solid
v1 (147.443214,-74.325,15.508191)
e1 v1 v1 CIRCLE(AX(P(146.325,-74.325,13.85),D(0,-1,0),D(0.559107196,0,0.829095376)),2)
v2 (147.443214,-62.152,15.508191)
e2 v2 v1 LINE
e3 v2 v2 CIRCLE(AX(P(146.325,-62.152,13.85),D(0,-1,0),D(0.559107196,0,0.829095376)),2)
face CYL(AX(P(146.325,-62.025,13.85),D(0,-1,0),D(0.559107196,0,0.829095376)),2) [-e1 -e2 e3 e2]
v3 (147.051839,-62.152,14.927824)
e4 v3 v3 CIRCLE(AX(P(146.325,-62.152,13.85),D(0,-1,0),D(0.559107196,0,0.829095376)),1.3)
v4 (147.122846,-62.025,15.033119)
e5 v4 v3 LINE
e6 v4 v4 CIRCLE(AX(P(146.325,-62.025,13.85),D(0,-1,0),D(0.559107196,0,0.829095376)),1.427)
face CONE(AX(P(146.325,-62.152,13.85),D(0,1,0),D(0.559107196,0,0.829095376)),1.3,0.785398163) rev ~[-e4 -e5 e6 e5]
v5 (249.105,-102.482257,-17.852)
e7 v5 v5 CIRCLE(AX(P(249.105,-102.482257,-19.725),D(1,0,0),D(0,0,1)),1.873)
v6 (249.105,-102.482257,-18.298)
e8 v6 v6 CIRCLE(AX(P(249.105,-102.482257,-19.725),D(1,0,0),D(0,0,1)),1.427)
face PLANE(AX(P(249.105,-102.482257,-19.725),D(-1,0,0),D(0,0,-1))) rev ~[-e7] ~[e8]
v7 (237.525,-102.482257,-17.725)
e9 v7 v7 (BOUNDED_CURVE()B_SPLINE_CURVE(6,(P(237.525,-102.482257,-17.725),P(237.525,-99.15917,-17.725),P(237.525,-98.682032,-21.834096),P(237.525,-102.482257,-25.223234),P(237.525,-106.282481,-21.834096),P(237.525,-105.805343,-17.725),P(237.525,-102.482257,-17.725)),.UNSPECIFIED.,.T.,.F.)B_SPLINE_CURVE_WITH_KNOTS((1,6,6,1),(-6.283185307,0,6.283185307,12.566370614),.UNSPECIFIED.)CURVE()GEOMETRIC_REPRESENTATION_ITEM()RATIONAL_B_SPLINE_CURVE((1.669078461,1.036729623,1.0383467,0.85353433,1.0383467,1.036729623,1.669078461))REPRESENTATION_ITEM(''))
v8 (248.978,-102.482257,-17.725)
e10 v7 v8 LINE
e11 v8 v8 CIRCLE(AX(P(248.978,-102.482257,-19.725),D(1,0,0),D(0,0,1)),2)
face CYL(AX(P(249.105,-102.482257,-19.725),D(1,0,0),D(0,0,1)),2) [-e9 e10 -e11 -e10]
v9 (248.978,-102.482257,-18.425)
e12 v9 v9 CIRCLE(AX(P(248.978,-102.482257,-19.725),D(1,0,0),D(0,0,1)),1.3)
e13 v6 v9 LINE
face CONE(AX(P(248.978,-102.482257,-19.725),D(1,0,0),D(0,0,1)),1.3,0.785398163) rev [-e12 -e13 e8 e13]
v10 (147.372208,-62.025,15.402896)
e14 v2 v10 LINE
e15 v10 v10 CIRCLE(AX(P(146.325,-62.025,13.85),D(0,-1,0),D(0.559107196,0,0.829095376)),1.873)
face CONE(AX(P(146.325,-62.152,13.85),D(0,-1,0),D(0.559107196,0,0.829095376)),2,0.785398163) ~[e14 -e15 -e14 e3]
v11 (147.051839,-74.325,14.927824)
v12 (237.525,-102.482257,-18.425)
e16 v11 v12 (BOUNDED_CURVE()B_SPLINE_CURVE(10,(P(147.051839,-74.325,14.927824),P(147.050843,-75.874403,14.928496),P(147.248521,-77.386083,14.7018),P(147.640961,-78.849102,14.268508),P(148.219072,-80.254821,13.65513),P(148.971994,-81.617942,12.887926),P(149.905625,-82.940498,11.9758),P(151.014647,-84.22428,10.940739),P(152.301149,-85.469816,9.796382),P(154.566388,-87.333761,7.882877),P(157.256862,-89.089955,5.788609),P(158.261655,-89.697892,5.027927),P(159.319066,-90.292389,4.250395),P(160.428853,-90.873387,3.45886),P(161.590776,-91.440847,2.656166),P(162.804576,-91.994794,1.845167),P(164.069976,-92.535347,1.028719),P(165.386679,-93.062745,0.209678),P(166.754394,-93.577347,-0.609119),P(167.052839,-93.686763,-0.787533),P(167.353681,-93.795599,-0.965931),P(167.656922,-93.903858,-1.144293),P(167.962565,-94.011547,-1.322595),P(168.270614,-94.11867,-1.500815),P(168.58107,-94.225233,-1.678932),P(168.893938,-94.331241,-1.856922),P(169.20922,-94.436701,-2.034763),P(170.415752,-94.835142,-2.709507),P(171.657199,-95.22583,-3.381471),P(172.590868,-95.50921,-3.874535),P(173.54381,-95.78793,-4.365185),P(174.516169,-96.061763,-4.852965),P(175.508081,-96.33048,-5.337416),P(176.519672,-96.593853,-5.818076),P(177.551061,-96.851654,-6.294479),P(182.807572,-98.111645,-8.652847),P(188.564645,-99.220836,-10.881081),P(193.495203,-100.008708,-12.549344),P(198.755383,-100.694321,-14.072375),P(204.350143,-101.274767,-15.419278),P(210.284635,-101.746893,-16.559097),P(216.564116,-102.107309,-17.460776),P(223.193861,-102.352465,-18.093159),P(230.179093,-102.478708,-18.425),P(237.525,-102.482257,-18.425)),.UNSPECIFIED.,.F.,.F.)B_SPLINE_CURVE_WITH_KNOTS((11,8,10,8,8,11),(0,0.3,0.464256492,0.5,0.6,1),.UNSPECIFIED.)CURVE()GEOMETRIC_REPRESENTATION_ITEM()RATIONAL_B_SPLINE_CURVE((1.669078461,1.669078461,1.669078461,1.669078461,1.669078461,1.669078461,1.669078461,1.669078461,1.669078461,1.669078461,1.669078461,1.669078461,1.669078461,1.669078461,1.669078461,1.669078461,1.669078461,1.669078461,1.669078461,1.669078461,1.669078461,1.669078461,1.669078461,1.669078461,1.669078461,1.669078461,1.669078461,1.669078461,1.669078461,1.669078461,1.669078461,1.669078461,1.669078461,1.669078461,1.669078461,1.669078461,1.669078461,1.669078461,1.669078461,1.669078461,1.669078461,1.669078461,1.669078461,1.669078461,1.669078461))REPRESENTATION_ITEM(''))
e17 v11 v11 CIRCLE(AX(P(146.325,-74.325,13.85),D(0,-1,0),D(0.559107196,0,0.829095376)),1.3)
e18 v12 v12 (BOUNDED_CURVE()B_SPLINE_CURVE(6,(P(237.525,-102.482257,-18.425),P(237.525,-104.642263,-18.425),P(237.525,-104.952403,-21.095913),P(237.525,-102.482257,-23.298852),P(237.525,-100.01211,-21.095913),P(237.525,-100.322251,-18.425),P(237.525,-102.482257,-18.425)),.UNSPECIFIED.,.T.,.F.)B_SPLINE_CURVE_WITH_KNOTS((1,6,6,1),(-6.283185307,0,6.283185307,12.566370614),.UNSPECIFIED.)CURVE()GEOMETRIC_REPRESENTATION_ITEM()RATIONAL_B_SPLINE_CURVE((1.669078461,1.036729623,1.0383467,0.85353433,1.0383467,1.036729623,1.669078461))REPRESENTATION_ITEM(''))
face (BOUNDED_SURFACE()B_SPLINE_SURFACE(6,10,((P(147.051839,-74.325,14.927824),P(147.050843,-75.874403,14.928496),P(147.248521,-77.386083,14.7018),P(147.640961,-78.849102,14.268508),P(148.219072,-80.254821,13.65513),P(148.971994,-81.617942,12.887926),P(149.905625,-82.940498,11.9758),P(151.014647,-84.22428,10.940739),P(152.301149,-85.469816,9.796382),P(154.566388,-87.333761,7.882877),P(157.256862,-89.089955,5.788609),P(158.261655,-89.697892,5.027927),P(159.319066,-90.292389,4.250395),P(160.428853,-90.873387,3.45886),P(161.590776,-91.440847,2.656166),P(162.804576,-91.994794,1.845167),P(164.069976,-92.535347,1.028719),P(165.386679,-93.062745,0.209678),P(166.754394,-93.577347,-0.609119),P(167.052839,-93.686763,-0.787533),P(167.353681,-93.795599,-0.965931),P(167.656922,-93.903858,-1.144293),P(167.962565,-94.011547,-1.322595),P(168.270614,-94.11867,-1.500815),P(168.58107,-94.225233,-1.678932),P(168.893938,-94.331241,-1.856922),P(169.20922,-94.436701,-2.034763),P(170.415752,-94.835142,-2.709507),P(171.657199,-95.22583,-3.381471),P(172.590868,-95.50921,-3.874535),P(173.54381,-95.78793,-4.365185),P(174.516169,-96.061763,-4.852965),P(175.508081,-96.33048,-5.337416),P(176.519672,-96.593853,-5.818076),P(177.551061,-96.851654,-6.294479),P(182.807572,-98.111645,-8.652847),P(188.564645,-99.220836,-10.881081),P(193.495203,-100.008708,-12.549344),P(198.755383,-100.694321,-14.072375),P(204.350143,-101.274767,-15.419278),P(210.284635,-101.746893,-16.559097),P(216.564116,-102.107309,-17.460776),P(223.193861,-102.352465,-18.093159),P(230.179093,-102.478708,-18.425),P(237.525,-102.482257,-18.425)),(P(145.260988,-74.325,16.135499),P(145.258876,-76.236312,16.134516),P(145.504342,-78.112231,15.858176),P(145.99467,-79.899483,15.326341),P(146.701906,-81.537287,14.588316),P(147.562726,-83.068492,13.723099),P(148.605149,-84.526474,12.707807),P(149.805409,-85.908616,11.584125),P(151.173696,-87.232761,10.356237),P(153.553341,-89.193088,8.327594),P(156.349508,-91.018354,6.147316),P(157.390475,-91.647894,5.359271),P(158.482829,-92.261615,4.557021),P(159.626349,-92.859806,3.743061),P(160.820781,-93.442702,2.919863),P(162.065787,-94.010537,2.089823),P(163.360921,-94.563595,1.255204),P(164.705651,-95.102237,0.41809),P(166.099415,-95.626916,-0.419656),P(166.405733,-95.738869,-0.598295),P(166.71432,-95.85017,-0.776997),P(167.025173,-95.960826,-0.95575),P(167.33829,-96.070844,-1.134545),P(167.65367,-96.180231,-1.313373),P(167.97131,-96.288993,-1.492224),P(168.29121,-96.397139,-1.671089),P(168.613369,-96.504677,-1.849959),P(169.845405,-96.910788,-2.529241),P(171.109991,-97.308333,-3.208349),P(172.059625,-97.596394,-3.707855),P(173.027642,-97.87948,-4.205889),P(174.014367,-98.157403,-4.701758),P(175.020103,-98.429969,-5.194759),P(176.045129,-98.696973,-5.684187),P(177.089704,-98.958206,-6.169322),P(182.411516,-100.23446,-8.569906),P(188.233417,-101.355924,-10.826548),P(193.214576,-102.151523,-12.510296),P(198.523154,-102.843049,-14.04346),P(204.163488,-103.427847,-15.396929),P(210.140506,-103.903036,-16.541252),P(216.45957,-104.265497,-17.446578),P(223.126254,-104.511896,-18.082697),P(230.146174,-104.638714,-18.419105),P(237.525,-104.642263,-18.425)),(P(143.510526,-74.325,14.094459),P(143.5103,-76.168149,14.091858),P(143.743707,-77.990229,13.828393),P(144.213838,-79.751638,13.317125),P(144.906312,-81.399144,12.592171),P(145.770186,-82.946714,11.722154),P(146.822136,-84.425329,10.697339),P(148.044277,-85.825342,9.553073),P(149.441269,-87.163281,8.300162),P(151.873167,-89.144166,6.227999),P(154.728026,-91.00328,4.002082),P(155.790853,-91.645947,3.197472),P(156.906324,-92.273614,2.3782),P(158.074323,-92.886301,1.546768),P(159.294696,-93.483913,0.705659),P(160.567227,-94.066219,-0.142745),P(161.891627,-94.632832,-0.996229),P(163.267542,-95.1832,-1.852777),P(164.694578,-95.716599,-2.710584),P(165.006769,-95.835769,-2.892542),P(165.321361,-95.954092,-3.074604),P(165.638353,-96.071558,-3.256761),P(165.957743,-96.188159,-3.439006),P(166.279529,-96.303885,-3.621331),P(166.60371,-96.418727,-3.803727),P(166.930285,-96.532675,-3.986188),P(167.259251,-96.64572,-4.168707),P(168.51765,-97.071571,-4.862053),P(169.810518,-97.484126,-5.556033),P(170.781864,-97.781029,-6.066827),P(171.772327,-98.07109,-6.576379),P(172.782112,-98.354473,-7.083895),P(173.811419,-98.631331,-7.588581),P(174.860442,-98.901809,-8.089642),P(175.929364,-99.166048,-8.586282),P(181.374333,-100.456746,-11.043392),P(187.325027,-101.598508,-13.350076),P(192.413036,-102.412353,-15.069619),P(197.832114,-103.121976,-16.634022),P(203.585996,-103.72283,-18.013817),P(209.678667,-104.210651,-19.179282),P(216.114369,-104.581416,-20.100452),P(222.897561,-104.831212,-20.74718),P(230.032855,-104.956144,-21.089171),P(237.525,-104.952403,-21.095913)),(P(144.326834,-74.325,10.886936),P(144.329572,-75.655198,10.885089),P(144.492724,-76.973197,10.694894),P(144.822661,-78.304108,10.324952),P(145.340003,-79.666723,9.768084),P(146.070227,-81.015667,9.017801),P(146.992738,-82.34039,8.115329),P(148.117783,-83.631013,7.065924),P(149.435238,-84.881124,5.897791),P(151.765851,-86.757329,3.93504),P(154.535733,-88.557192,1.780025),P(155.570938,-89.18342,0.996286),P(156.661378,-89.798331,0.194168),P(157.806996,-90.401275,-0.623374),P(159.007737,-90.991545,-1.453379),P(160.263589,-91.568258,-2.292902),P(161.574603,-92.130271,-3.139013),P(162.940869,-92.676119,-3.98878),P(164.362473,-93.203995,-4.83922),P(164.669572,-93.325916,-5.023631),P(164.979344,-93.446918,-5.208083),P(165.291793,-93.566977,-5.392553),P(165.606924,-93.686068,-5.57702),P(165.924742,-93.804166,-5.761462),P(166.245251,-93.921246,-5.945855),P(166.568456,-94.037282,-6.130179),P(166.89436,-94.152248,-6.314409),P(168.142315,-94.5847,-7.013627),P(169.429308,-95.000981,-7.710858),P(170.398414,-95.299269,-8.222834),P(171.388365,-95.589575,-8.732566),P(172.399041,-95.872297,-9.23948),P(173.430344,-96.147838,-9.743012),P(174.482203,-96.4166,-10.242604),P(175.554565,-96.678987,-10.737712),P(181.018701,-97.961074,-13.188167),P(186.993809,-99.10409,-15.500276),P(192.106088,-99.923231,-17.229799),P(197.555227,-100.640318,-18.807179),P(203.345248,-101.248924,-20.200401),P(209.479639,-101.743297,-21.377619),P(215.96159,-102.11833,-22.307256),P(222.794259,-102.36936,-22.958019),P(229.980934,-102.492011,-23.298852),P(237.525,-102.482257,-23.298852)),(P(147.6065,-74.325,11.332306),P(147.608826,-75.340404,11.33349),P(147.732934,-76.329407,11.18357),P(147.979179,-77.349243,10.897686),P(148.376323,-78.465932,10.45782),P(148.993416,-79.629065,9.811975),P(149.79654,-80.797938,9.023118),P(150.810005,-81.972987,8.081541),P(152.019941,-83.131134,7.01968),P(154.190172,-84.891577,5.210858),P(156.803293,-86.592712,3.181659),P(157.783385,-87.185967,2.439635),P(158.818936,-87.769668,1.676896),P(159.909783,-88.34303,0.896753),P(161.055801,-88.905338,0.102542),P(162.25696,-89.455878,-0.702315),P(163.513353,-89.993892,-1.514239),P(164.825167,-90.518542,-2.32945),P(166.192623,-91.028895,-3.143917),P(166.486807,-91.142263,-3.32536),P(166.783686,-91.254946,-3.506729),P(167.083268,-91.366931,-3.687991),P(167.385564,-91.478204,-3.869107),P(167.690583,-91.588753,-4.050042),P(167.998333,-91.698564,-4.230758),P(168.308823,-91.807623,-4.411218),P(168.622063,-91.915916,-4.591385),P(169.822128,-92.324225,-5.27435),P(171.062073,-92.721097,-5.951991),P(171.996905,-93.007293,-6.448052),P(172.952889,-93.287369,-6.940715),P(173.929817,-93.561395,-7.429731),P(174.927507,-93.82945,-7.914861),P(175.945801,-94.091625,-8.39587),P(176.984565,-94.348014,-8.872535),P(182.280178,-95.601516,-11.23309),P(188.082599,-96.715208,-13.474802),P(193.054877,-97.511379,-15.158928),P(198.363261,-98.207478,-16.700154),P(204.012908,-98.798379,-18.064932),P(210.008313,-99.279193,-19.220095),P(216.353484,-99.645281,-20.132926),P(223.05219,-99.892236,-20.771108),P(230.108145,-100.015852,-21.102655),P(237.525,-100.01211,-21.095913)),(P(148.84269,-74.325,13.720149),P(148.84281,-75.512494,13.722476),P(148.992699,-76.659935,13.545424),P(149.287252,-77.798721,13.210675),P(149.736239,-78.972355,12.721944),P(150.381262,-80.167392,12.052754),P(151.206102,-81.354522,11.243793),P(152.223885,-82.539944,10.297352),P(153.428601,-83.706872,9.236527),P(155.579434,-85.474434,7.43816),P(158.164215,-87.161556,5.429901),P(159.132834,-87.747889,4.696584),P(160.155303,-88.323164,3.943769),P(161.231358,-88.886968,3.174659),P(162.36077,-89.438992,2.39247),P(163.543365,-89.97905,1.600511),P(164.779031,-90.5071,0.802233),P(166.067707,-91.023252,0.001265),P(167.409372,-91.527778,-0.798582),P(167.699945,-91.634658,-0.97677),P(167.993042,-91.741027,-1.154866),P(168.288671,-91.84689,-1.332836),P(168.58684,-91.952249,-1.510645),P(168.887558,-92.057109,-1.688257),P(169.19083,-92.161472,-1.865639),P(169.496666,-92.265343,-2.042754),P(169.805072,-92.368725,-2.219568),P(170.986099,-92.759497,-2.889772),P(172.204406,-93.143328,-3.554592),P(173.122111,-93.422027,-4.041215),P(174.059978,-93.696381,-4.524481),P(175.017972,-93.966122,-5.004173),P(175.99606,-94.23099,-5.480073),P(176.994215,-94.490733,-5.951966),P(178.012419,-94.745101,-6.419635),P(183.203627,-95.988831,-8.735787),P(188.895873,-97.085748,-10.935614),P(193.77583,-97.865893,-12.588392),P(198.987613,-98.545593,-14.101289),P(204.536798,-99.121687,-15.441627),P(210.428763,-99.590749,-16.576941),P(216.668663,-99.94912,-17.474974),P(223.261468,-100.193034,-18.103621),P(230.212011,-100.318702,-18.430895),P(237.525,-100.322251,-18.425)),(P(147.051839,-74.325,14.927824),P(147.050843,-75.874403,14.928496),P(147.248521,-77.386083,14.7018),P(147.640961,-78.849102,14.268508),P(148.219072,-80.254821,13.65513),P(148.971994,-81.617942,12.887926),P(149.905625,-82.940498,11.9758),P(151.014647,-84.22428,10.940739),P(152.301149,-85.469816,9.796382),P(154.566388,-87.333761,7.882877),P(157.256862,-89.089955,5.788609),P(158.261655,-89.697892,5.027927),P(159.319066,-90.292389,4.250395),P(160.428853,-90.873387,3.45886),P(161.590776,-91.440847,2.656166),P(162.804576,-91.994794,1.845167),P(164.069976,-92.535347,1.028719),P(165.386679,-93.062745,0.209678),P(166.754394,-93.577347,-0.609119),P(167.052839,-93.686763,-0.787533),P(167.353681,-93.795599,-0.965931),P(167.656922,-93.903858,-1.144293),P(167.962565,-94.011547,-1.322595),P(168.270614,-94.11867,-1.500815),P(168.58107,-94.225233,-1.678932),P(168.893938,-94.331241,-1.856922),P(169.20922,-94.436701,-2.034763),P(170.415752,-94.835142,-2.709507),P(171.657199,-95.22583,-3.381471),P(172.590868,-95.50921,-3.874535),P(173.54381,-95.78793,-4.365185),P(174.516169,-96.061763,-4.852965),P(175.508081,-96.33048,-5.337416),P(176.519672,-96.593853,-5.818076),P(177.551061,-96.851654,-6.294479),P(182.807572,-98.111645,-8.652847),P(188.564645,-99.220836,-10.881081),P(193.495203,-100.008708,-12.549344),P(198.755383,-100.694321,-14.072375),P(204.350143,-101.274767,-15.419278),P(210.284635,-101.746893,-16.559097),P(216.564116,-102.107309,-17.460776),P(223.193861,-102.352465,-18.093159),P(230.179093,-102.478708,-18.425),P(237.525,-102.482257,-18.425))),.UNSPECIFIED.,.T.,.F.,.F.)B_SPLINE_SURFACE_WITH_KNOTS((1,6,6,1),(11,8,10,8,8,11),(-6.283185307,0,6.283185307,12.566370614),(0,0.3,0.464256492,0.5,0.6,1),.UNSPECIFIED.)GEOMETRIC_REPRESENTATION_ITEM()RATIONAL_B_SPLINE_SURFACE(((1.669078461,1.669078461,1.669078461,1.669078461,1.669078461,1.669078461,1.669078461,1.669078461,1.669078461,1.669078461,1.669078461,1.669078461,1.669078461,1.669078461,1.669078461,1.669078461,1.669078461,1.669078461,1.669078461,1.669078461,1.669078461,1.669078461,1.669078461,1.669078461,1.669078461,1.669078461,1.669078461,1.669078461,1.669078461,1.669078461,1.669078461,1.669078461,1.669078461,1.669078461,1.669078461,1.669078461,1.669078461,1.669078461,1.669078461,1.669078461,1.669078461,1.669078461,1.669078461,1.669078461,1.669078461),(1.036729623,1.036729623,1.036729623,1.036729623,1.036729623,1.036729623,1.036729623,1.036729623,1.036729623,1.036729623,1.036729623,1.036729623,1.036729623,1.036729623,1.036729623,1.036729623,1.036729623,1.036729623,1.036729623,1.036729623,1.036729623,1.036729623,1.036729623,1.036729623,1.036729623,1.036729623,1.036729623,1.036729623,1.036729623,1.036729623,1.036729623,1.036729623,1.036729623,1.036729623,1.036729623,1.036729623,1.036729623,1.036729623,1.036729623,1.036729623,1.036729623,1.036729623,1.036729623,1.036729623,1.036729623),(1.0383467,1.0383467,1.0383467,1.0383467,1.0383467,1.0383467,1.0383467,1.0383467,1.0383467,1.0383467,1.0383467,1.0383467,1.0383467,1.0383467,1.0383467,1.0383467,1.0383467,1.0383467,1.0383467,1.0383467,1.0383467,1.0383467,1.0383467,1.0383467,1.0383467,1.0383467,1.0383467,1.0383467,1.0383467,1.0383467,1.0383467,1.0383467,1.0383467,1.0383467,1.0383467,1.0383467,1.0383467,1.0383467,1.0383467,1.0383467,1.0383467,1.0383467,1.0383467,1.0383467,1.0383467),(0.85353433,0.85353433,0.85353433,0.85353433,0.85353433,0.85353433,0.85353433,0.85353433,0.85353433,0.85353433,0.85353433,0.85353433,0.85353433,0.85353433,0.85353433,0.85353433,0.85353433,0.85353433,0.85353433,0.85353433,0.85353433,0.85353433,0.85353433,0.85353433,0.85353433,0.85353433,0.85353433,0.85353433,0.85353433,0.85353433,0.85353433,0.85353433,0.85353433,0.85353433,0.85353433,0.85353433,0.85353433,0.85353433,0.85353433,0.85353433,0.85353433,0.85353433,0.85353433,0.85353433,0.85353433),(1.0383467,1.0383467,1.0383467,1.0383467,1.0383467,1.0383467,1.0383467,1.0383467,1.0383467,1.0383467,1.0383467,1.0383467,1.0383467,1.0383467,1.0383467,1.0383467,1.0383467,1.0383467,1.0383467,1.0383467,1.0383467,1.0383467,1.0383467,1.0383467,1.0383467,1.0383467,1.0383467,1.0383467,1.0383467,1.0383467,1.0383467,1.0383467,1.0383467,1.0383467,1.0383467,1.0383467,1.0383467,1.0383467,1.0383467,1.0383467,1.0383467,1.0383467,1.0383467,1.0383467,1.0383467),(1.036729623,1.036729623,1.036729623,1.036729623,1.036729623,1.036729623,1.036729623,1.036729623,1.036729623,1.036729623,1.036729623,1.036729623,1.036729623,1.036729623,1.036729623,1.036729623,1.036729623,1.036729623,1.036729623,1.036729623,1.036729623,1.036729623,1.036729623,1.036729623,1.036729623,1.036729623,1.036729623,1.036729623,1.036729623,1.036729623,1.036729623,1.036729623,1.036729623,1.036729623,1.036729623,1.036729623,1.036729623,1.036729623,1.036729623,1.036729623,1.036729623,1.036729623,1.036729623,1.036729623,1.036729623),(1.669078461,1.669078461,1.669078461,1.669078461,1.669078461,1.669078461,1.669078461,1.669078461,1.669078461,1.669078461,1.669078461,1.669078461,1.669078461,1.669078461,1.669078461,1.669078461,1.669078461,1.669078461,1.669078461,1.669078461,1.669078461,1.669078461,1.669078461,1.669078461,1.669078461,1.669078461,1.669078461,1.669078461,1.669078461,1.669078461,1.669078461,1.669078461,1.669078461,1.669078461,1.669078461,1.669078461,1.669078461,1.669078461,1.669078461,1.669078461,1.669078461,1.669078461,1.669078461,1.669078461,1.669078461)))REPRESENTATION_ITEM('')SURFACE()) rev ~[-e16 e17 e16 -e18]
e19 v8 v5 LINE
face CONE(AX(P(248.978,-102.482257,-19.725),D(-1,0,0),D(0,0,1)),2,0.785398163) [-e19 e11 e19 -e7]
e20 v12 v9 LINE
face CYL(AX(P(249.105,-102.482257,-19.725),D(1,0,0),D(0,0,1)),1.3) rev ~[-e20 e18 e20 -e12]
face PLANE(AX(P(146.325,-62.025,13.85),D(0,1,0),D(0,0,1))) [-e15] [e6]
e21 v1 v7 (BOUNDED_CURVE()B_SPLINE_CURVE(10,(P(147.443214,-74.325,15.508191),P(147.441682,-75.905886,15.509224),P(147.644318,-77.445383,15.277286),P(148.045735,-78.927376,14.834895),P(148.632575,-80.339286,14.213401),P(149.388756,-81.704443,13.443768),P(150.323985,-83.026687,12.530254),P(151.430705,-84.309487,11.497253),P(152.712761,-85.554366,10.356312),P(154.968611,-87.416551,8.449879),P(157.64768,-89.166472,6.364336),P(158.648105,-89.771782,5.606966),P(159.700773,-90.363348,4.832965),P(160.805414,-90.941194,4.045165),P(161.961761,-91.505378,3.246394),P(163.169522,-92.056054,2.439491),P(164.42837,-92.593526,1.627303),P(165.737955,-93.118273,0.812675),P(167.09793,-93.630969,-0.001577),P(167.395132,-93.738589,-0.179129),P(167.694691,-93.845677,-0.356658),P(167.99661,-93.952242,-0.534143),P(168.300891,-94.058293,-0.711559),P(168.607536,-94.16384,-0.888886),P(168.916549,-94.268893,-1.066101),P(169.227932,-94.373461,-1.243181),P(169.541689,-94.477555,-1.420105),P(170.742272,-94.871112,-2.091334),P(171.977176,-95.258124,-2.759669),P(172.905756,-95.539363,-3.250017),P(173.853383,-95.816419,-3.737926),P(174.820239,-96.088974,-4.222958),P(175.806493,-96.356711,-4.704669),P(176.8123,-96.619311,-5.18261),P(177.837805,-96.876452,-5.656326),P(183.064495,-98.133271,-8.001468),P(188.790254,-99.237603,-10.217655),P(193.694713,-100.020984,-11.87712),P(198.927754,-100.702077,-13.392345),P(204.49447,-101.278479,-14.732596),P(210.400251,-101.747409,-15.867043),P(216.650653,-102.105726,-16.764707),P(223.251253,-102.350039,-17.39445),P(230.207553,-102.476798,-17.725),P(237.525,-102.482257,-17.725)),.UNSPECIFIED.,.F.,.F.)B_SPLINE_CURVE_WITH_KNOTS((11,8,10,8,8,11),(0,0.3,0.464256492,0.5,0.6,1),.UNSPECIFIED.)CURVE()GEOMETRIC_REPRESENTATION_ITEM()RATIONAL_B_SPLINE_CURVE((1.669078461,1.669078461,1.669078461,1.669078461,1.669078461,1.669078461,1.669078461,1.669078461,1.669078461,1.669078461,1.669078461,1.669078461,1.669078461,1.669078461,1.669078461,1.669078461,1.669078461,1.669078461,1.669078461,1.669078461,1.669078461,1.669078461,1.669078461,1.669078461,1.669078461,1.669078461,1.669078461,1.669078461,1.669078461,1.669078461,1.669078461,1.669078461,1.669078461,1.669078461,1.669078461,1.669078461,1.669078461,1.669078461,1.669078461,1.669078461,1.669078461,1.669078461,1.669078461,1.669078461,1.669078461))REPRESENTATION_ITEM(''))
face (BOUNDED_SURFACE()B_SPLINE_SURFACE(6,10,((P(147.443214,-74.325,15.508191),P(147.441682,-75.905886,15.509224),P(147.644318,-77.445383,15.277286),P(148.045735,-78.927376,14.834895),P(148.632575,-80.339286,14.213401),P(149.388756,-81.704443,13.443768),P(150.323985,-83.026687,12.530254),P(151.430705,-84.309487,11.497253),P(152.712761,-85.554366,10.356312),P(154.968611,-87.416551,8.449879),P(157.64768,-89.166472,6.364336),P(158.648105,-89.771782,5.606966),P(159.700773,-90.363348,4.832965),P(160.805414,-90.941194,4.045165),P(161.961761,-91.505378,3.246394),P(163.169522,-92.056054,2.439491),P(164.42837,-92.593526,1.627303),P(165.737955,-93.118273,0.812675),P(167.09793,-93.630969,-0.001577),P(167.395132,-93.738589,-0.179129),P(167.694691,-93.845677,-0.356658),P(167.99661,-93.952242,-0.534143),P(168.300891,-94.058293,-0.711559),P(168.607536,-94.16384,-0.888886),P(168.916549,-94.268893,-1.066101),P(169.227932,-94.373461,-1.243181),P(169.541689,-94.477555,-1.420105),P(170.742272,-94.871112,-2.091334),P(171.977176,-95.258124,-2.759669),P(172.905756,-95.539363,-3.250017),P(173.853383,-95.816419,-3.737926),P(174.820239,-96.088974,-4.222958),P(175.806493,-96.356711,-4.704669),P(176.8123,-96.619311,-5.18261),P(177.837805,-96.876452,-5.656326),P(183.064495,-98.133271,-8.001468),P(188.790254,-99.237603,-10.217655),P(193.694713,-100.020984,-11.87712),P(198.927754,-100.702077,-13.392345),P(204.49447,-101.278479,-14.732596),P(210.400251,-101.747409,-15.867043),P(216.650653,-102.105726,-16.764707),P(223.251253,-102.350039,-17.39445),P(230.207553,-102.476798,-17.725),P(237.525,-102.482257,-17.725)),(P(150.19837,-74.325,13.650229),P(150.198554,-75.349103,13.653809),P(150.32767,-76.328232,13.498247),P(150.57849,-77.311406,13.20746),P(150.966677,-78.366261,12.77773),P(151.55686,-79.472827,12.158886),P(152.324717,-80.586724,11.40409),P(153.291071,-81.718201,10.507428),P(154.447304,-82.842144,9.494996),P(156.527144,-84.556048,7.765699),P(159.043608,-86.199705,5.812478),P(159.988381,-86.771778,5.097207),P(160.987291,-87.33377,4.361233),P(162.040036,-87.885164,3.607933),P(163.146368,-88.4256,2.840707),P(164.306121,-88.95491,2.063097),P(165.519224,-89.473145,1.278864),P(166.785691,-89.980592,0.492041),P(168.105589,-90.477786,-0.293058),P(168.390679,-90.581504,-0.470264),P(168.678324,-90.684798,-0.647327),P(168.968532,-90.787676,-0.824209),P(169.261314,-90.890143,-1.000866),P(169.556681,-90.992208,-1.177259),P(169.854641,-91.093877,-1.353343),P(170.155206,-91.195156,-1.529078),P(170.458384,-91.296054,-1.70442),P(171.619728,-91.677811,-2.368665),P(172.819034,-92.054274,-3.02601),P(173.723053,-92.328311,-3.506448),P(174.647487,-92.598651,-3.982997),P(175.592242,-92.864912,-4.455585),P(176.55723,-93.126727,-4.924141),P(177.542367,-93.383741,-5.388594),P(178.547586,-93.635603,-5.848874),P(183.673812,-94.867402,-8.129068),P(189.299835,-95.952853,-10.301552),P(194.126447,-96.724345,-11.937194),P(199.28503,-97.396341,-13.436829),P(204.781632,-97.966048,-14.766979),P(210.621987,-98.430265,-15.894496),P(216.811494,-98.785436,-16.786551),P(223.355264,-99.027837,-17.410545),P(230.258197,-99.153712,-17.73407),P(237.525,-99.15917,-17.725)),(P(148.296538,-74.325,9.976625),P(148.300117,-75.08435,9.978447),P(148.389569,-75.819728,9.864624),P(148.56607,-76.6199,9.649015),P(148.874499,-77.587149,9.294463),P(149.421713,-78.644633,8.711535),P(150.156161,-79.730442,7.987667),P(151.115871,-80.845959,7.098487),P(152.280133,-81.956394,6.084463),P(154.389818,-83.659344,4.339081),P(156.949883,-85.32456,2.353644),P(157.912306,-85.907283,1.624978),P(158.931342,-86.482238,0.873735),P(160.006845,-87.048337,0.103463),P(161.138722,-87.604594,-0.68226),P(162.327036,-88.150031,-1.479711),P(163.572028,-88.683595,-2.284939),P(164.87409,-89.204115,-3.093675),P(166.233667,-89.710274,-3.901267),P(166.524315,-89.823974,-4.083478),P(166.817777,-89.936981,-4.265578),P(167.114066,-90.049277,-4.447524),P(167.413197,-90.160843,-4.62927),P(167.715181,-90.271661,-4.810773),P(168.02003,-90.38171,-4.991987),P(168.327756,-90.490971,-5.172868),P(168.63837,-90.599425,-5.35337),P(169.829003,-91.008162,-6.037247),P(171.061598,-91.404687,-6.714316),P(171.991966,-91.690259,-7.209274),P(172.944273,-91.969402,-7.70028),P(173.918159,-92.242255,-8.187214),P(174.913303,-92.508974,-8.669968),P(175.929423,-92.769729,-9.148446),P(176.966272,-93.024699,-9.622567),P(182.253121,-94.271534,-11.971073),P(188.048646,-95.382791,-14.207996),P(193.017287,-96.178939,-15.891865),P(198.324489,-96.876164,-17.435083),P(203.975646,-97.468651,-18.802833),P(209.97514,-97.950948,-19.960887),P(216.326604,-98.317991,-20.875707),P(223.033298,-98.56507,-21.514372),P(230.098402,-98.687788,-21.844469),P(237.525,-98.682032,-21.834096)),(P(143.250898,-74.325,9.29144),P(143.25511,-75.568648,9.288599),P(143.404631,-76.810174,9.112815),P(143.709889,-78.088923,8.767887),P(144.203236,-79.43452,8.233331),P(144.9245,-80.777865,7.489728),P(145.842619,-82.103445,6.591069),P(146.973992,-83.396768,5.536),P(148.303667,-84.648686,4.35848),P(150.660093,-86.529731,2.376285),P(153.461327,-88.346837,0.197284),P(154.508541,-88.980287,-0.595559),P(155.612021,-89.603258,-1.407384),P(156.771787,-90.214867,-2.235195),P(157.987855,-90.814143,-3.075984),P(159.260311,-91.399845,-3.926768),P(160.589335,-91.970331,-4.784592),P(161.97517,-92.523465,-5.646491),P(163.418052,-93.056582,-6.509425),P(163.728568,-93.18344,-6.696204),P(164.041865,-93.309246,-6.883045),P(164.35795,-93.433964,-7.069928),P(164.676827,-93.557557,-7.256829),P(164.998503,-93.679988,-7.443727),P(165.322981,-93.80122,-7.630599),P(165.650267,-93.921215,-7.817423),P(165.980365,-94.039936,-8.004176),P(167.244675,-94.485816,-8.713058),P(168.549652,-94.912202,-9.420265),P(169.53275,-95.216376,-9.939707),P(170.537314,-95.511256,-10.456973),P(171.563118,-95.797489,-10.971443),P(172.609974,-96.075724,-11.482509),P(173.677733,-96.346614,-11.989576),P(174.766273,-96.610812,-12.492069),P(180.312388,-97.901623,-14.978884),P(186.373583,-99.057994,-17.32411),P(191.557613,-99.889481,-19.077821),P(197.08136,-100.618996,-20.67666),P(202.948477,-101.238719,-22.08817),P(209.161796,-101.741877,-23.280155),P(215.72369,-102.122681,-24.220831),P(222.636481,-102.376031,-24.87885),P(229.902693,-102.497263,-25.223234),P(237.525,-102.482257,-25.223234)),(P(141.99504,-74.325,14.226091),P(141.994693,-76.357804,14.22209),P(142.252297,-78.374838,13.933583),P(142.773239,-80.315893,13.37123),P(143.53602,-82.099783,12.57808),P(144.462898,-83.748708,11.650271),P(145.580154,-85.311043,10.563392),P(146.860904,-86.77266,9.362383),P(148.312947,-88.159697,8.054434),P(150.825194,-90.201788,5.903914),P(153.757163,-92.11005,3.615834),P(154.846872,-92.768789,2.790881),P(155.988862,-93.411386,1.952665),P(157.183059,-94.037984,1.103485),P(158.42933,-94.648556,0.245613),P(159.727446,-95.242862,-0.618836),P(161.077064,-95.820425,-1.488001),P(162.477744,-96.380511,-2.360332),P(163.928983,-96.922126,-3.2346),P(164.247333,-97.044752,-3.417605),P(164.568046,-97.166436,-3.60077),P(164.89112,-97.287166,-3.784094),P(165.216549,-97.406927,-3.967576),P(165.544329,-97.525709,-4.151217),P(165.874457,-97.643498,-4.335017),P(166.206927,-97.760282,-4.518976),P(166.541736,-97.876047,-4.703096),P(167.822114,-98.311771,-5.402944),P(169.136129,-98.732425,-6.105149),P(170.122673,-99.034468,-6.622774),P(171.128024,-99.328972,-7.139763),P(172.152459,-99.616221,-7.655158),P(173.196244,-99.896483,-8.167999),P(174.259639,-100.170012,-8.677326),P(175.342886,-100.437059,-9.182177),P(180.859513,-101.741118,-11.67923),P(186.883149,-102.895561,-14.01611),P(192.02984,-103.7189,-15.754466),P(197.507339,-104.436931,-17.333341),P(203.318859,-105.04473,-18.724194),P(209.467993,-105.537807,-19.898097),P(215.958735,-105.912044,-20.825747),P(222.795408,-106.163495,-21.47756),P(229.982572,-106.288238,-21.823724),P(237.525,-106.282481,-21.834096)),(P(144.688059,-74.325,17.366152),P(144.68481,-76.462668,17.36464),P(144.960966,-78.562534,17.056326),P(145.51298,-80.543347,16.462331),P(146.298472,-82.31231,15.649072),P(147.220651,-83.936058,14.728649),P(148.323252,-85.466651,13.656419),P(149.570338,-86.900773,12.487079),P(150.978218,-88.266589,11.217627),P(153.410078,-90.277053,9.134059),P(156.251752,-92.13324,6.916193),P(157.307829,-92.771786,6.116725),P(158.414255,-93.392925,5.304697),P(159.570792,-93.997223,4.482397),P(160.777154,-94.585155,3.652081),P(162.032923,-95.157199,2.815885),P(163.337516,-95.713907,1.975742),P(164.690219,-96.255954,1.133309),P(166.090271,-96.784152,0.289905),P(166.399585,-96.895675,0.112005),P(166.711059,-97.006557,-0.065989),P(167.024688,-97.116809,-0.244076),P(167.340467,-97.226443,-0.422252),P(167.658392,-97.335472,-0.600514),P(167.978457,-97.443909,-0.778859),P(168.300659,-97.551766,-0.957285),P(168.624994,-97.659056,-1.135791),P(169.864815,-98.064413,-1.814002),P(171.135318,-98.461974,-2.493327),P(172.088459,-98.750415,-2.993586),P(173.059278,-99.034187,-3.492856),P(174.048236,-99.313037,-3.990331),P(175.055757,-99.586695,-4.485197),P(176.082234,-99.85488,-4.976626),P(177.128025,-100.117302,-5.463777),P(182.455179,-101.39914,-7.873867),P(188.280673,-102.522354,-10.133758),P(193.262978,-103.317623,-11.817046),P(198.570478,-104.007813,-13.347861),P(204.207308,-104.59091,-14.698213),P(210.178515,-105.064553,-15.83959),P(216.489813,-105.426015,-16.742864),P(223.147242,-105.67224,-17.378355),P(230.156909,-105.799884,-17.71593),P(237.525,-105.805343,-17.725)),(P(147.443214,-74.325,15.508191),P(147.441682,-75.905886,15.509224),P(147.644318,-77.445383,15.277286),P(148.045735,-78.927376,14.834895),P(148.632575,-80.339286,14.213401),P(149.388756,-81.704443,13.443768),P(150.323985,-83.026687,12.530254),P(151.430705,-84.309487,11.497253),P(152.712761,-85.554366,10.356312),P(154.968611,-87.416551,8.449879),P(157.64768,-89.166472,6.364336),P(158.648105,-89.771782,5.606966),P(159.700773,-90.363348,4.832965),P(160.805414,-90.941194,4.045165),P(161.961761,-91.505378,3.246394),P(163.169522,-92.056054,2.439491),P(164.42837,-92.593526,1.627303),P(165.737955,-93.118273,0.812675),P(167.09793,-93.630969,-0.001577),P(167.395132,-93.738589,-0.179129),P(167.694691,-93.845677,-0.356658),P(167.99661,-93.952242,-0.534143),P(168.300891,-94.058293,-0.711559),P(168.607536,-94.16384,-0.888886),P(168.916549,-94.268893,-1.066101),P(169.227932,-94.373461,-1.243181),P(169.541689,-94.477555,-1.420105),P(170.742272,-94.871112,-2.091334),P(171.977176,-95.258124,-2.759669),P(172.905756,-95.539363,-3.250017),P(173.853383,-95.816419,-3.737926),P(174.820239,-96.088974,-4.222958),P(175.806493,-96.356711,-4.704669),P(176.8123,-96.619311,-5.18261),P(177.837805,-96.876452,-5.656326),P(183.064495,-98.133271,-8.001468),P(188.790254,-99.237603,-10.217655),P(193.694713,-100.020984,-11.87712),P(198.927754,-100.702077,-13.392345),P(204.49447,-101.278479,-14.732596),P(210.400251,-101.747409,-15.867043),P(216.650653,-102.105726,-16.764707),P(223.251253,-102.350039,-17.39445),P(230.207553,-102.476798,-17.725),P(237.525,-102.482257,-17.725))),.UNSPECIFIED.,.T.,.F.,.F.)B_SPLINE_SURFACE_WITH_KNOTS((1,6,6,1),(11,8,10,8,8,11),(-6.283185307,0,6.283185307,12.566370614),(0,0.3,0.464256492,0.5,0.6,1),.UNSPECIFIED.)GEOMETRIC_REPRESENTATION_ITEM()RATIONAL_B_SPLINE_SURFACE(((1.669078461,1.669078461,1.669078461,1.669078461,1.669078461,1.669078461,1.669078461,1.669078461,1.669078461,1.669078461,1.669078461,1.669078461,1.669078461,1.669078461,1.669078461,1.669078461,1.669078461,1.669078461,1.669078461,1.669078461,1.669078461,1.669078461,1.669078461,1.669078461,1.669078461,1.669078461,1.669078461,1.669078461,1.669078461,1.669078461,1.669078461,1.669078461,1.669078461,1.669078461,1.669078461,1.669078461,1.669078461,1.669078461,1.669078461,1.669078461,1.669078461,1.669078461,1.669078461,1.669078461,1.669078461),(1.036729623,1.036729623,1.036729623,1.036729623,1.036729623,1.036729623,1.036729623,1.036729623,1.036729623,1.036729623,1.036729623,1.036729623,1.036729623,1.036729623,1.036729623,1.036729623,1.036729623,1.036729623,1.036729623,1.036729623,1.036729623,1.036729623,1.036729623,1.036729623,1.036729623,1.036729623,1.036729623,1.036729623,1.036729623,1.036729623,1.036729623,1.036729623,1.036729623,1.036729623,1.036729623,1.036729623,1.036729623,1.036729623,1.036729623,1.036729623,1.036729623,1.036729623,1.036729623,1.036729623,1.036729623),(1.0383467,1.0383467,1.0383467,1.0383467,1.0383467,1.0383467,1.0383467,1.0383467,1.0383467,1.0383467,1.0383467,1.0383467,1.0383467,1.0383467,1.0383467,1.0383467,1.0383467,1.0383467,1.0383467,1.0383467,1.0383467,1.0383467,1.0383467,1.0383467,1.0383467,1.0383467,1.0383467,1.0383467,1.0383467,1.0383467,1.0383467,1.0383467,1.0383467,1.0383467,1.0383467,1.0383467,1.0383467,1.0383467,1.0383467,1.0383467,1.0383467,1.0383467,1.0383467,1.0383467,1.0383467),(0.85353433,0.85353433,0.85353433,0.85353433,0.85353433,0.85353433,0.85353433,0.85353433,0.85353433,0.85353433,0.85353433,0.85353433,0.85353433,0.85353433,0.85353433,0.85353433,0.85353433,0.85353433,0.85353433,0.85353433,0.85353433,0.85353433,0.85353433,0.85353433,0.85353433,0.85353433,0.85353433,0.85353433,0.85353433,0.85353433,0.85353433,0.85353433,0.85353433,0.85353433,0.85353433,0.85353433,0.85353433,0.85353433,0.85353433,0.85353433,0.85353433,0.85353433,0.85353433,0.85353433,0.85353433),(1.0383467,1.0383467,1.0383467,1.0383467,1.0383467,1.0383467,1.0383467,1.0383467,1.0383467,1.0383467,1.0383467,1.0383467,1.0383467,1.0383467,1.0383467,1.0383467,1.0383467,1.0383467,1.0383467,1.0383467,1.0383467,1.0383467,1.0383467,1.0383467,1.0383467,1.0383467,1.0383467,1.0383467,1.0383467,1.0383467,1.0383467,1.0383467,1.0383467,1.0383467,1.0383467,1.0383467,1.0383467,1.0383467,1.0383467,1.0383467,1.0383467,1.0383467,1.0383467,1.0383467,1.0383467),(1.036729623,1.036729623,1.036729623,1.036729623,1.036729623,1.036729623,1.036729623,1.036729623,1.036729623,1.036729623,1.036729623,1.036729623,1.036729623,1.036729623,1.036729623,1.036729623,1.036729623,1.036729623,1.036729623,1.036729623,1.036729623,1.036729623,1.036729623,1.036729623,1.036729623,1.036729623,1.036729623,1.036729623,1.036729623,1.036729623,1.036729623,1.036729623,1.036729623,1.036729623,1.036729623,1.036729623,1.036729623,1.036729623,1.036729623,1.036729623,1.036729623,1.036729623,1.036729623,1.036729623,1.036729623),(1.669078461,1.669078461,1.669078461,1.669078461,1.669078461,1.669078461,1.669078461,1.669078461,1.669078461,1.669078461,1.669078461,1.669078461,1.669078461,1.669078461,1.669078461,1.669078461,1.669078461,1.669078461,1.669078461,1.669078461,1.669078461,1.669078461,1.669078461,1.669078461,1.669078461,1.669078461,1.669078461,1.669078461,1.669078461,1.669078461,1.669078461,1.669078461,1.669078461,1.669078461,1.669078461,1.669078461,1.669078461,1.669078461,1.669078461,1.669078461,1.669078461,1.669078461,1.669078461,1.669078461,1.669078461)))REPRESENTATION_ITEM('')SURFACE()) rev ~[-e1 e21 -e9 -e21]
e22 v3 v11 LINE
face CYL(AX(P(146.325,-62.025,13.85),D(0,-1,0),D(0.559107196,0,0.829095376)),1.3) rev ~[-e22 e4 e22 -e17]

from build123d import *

# Parameters (mm, degrees)
SKETCH1_R     = 2
SKETCH1_R_2   = 1.3
CHAMFER1_SIZE = 0.127


with BuildPart() as part:
    # Sweep1: sweep along a curve in space
    with BuildLine() as sweep1_path:
        Line((146.325, -62.025, 13.85), (146.325, -74.325, 13.85))
        add(Edge.make_bspline(
            [(237.525, -102.482256564, -19.725), (204.493010201, -102.482256564, -19.725), (160.907942126, -96.189695695, -2.9375), (146.325, -82.015845318, 13.85), (146.325, -74.325, 13.85)],
            knots=[0, 0, 0, 0, 0.535743508, 1, 1, 1, 1], degree=3))
        Line((249.105, -102.482256564, -19.725), (237.525, -102.482256564, -19.725))
    # Sketch1 → Sweep1 (sweep)
    with BuildSketch(Plane.ZY.offset(-239.725)):
        with Locations((-19.725, -102.482256564)):
            Circle(SKETCH1_R)
        with Locations((-19.725, -102.482256564)):
            Circle(SKETCH1_R_2, mode=Mode.SUBTRACT)
    sweep(path=sweep1_path.line)

    # Chamfer1
    chamfer1_edges = [part.edges().sort_by_distance(p)[0] for p in [
        (249.105, -102.482256564, -21.025),
        (249.105, -102.482256564, -21.725),
        (145.598160645, -62.025, 12.772176011),
        (145.206785607, -62.025, 12.191809248),
    ]]
    chamfer(chamfer1_edges, length=CHAMFER1_SIZE)


solid = part.part
